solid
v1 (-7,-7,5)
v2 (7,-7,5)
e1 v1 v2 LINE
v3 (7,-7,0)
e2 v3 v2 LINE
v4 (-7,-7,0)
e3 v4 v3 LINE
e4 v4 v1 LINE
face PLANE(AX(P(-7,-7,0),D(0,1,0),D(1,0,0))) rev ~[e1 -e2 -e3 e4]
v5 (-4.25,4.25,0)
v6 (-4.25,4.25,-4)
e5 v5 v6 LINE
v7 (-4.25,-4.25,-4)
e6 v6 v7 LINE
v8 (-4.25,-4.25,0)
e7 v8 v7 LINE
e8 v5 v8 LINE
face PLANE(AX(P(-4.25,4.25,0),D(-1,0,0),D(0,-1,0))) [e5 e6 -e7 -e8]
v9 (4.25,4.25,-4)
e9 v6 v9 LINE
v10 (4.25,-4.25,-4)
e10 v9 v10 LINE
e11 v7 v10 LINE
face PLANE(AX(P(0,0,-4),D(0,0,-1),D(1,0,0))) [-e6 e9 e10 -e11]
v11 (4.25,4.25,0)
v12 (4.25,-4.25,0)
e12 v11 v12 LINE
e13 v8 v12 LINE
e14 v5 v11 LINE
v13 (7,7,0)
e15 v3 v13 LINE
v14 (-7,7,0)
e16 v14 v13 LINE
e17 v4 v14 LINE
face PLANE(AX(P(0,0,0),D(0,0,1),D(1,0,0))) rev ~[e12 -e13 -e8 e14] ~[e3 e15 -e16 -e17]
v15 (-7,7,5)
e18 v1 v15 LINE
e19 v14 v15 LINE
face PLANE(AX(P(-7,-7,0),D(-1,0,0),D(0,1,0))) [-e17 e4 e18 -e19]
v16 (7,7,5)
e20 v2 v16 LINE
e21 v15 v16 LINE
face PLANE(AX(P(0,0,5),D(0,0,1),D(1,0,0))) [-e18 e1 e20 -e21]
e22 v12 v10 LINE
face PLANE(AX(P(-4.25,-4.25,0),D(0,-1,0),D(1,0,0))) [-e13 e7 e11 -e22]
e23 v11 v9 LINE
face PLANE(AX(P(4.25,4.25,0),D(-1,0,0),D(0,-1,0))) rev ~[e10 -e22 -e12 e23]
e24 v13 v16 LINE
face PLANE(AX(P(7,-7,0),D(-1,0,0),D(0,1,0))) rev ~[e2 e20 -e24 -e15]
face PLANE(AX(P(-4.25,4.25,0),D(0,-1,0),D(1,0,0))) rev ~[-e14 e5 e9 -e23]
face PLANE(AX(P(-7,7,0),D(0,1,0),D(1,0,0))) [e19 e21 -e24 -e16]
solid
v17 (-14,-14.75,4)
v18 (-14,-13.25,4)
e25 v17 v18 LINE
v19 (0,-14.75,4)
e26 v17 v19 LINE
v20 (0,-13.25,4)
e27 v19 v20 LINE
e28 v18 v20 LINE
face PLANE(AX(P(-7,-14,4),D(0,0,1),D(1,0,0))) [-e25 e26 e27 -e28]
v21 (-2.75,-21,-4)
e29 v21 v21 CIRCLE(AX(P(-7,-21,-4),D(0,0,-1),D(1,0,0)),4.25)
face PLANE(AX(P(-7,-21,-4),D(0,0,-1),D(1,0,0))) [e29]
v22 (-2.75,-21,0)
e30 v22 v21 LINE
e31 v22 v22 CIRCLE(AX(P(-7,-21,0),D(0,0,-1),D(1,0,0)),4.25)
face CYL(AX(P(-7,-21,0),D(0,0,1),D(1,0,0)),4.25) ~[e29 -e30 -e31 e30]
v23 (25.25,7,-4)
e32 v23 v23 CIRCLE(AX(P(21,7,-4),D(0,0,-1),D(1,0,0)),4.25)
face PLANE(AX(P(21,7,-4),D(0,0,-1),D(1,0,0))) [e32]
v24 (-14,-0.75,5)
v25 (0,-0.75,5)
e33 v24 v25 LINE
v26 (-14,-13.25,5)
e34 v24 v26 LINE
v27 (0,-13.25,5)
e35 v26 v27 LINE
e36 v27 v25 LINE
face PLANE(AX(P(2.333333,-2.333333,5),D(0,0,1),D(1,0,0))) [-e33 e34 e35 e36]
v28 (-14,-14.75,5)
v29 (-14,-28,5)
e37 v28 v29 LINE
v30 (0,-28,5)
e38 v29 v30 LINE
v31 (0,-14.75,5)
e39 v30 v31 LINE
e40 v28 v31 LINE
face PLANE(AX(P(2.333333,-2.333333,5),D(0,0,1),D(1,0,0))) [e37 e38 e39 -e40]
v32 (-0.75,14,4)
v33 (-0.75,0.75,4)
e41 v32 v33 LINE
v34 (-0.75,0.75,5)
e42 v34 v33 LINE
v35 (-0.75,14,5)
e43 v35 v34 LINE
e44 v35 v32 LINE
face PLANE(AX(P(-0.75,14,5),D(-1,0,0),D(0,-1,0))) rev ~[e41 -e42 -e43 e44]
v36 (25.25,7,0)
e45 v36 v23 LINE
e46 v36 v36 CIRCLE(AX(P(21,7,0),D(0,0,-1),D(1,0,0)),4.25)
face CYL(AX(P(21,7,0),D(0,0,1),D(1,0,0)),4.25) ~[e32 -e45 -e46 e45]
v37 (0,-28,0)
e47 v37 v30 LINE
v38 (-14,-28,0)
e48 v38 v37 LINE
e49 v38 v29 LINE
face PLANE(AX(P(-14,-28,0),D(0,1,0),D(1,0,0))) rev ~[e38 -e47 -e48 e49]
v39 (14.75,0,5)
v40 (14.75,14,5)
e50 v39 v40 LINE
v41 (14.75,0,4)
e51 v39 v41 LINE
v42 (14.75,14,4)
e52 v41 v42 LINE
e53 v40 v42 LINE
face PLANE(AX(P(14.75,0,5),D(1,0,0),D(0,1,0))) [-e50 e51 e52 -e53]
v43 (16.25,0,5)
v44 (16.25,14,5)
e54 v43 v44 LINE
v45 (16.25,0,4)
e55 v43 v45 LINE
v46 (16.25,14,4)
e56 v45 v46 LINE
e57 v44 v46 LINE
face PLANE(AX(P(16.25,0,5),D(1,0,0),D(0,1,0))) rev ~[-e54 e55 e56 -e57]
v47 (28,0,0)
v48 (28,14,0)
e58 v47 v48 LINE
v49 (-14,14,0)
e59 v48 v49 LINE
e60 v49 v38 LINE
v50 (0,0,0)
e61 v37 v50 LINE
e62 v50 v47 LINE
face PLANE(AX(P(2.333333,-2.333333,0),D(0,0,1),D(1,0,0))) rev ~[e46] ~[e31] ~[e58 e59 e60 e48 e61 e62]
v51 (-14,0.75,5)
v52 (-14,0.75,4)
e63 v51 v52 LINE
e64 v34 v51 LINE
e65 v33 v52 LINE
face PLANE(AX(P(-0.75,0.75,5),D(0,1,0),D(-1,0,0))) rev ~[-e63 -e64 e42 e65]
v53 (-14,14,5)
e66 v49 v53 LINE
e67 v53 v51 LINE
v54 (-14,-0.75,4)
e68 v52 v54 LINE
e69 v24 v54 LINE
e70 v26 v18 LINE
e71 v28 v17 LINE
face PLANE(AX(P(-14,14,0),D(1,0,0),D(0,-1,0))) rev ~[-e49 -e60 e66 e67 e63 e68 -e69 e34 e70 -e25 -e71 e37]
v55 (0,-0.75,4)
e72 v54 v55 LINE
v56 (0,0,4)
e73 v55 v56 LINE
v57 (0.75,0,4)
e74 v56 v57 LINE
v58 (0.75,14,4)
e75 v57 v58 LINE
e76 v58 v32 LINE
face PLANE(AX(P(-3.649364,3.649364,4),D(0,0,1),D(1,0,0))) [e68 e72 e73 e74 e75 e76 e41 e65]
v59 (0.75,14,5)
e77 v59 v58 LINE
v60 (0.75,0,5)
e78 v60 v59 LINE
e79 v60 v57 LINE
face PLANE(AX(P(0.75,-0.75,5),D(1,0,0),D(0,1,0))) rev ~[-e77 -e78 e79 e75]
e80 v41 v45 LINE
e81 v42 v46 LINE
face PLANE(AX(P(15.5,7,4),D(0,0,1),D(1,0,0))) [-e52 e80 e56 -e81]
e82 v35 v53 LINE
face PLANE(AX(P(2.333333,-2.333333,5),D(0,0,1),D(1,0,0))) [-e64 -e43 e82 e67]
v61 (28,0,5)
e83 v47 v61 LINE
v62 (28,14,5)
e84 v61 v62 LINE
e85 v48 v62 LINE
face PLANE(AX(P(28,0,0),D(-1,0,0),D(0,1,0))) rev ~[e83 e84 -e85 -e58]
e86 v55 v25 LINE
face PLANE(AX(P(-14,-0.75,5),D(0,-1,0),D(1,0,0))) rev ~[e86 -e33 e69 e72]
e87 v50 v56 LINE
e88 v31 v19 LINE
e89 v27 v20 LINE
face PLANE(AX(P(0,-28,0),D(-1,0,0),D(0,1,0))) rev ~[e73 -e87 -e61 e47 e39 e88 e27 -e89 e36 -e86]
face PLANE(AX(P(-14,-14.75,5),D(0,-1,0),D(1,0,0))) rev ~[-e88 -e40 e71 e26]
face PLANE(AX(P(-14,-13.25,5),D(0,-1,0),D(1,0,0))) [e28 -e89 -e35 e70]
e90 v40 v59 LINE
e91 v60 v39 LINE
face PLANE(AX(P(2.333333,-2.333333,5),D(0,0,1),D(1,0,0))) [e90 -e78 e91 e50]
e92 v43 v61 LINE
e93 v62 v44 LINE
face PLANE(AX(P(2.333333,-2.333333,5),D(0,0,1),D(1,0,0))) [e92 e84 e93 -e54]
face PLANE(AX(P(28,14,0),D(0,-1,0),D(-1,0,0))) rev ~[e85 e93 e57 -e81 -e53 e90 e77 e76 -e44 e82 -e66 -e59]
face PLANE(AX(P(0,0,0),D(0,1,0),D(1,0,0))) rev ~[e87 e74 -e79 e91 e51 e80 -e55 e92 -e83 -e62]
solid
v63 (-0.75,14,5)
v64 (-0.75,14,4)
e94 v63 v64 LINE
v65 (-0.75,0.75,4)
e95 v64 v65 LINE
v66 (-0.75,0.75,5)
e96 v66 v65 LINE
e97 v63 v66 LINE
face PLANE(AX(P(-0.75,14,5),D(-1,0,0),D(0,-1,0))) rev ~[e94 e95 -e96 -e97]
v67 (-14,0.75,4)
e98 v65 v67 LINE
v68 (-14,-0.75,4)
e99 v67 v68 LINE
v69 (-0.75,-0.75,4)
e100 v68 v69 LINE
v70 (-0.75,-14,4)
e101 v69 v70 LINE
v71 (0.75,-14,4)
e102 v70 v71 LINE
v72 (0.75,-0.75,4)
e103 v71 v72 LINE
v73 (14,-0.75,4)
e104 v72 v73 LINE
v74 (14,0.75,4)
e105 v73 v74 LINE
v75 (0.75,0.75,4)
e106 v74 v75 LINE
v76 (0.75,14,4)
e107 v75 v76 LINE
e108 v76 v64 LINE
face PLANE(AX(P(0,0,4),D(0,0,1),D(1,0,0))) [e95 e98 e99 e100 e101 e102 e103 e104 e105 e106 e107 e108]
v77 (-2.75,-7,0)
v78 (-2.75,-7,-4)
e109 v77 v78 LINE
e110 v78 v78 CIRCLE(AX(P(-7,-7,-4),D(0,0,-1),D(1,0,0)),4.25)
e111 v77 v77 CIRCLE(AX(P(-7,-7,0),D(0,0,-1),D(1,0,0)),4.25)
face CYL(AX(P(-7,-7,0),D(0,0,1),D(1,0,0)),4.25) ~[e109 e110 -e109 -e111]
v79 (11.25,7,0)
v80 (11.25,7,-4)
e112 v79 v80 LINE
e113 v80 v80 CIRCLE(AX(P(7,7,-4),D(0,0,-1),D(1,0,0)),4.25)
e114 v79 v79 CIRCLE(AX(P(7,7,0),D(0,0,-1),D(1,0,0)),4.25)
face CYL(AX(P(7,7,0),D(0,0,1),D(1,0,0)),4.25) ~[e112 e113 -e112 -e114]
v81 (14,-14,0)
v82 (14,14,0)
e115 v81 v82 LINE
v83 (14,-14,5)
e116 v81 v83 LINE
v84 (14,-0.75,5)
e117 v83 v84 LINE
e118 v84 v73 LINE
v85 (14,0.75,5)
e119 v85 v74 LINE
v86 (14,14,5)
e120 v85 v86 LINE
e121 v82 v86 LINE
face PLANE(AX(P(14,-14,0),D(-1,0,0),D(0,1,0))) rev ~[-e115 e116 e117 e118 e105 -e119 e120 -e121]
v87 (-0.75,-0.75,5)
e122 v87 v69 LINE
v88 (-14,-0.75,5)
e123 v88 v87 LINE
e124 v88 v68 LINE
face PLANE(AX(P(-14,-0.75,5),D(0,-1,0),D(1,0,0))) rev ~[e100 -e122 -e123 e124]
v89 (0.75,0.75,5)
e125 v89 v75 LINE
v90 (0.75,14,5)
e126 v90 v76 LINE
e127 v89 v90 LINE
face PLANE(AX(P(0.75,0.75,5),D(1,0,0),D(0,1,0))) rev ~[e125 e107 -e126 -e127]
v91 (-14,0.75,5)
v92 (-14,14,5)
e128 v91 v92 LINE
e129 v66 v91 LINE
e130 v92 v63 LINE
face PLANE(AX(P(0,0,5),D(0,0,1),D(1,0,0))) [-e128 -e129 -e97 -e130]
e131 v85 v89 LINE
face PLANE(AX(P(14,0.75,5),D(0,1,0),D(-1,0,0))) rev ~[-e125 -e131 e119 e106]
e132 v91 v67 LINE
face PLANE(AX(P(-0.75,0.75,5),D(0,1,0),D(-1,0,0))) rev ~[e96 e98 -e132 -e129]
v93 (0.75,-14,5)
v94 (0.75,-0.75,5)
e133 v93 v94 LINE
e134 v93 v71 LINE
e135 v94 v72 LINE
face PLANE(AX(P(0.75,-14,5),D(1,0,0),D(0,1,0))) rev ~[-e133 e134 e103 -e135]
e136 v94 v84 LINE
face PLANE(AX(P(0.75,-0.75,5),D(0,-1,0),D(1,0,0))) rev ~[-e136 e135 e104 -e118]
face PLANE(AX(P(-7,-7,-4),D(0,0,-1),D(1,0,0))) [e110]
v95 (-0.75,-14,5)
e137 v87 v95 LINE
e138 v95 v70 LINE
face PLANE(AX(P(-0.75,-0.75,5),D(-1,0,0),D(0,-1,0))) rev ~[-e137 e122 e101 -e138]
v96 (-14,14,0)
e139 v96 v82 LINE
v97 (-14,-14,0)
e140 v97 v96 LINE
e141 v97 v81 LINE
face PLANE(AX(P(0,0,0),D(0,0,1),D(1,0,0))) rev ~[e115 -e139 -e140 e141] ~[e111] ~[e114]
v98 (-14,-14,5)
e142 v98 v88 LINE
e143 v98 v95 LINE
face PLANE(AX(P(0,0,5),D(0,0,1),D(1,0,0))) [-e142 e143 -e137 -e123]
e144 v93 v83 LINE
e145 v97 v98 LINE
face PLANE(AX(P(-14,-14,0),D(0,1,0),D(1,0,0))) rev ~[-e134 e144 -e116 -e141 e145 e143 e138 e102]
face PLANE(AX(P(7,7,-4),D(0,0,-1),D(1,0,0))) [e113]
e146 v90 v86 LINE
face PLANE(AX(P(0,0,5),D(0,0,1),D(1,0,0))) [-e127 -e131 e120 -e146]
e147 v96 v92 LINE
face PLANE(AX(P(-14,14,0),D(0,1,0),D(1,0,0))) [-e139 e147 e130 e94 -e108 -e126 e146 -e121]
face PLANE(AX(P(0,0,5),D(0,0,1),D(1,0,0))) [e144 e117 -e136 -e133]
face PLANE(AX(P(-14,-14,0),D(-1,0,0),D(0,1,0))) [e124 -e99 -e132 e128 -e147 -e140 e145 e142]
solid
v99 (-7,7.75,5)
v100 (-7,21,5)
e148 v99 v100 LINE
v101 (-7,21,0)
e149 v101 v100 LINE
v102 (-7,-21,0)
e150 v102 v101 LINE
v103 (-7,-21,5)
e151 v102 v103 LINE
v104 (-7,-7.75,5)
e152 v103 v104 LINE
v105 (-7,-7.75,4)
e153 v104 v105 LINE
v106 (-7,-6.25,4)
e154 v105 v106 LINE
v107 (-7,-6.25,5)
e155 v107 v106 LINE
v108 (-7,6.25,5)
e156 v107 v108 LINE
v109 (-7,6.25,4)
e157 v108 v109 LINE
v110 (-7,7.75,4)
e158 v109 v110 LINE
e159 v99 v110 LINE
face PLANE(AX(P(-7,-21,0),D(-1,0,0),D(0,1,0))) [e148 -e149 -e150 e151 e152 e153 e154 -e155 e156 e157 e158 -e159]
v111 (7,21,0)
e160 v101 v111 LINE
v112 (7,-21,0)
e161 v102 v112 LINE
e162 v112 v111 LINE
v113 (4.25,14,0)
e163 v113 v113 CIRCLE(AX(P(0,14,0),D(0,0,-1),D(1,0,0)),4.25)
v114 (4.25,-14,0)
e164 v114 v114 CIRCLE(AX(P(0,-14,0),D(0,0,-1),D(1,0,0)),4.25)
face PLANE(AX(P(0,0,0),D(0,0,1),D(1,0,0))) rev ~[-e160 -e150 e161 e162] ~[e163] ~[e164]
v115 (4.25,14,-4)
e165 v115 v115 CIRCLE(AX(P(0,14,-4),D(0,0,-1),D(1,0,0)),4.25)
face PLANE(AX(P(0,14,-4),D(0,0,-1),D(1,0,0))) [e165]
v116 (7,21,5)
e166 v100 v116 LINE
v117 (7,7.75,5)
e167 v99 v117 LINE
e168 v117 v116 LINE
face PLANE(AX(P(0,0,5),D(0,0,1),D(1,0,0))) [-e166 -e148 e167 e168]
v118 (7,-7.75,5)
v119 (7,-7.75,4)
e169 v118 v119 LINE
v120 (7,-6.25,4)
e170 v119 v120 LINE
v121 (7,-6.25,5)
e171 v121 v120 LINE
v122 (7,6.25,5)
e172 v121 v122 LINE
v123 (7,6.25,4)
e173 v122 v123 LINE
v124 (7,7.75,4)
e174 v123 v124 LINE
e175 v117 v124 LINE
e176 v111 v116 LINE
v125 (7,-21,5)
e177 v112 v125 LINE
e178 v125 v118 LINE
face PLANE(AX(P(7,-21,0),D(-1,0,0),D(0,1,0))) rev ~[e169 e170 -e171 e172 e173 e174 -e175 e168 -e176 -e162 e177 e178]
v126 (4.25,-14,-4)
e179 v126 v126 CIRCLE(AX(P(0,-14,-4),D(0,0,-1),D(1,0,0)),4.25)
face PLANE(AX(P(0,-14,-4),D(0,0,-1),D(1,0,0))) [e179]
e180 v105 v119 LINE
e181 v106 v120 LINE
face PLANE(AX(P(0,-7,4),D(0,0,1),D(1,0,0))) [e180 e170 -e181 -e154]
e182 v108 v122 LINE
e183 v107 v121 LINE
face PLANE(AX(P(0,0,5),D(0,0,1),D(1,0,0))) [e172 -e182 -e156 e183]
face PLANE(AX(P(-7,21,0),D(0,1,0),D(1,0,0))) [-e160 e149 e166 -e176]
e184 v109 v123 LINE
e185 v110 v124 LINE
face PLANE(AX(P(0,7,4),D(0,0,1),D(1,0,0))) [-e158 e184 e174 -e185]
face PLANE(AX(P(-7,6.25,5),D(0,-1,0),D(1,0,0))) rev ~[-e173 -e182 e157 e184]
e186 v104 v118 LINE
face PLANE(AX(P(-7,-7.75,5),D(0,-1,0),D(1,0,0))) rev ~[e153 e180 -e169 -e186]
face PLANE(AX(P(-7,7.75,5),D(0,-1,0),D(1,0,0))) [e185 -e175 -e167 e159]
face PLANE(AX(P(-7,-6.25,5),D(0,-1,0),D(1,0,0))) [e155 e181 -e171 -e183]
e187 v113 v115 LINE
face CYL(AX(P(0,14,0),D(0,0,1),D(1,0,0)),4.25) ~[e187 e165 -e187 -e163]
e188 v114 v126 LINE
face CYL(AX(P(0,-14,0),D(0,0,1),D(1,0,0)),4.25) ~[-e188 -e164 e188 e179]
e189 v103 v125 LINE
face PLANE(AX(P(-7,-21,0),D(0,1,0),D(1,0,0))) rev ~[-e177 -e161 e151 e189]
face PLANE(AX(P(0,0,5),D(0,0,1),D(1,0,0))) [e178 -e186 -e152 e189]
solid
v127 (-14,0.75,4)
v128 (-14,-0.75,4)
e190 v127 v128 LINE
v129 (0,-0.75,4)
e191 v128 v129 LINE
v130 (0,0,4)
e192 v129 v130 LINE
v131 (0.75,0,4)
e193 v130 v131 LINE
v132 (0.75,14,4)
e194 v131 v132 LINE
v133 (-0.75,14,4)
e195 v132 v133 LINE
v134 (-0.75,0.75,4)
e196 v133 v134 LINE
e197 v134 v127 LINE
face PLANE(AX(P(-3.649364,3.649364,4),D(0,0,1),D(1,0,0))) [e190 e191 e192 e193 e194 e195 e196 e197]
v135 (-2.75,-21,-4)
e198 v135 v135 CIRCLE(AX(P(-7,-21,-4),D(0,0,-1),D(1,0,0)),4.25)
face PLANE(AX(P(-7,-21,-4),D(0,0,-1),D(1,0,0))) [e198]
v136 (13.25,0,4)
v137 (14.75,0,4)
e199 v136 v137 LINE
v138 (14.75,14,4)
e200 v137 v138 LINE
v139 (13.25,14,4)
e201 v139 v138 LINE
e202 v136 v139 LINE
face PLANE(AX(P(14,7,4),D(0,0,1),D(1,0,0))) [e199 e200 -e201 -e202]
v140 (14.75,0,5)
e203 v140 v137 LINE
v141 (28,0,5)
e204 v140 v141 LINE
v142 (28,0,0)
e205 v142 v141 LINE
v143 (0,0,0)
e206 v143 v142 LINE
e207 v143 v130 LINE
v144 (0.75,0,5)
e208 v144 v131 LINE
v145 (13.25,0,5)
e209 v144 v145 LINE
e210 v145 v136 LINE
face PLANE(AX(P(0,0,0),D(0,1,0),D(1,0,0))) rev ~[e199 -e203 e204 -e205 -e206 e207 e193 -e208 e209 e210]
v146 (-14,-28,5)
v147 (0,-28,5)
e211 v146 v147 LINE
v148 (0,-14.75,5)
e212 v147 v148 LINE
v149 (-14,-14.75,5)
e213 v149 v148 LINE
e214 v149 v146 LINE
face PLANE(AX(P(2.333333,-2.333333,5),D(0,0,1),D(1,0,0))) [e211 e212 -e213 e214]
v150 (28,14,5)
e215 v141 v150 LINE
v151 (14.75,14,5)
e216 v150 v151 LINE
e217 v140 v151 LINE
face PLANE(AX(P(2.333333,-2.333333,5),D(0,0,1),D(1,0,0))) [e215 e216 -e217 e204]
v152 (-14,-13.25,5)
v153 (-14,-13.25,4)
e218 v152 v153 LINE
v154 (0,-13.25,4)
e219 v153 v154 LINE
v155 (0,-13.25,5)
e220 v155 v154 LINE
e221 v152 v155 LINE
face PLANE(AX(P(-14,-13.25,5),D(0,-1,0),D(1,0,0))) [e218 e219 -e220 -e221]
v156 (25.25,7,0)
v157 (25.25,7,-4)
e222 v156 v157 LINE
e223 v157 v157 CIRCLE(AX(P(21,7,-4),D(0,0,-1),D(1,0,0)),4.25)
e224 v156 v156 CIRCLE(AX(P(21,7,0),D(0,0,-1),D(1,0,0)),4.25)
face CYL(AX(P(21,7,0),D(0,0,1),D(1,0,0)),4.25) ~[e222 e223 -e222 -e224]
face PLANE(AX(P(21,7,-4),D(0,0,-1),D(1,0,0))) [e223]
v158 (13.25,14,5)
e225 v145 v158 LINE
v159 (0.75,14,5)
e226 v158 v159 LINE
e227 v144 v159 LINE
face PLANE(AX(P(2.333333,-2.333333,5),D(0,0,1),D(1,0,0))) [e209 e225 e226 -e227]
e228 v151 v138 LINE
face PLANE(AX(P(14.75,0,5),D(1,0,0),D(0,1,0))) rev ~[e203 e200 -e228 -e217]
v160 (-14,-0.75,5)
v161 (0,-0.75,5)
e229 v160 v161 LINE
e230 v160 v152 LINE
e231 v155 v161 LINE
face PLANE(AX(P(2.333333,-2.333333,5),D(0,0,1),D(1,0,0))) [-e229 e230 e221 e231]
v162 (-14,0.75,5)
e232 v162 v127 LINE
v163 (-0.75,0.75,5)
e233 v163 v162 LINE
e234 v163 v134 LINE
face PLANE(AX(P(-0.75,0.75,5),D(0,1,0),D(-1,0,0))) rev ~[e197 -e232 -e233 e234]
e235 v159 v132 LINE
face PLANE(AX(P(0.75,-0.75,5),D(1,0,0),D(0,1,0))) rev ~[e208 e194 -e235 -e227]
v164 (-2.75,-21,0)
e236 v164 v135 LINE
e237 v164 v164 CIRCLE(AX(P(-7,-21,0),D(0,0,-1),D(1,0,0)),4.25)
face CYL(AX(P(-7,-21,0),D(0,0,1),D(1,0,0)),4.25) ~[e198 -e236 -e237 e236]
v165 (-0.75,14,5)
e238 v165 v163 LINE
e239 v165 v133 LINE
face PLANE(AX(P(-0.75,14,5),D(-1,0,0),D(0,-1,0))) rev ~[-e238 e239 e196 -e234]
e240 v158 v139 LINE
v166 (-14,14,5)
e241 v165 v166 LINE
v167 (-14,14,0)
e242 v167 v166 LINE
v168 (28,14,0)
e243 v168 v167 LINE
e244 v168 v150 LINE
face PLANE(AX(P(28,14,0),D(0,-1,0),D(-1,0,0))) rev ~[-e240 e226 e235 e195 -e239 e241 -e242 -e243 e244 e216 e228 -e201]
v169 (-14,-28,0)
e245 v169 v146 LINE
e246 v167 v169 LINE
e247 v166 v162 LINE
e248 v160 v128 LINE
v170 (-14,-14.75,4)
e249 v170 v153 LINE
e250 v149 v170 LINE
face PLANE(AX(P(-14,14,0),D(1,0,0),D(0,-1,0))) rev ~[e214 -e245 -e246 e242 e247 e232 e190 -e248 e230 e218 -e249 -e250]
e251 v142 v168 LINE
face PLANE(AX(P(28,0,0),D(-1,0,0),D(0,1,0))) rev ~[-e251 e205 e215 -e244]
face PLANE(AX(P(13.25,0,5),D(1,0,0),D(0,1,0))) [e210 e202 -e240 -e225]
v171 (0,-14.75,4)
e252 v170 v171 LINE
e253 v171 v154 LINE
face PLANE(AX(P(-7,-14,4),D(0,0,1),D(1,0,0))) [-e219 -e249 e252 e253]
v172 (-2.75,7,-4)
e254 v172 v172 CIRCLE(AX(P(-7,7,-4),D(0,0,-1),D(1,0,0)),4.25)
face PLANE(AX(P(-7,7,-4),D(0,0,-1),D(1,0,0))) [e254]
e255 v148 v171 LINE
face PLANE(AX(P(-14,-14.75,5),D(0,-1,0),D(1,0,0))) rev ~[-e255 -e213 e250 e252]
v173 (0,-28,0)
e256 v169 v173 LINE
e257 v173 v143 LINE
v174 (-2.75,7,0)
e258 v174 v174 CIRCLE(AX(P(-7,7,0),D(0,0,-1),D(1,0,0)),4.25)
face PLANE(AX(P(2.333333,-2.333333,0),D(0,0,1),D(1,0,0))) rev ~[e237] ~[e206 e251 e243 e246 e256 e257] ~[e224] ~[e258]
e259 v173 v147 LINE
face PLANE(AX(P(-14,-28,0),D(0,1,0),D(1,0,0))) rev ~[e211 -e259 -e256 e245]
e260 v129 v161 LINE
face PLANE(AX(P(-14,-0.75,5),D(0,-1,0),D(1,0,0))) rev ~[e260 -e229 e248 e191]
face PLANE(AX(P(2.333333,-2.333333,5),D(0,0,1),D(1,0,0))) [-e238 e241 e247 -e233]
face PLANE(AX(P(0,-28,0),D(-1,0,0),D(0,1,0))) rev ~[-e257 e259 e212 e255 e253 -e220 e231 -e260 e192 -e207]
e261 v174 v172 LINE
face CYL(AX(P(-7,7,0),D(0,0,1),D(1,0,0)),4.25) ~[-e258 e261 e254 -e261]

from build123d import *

# Parameters (mm, degrees)
SKETCH_W        = 14
SKETCH_H        = 14
PAD_DEPTH       = 5
SKETCH002_W     = 8.5
SKETCH002_H     = 8.5
PAD001_DEPTH    = 4
SKETCH003_W     = 28
SKETCH003_H     = 28
PAD002_DEPTH    = 5
SKETCH004_R     = 4.25
PAD003_DEPTH    = 4
POCKET_DEPTH    = 1
SKETCH006_W     = 14
SKETCH006_H     = 42
PAD004_DEPTH    = 5
SKETCH007_R     = 4.25
PAD005_DEPTH    = 4
SKETCH008_W     = 14
SKETCH008_H     = 1.5
POCKET001_DEPTH = 1
PAD006_DEPTH    = 5
SKETCH010_R     = 4.25
PAD007_DEPTH    = 4
SKETCH013_W     = 1.5
SKETCH013_H     = 14
SKETCH013_W_2   = 14
SKETCH013_H_2   = 1.5
POCKET002_DEPTH = 1
PAD008_DEPTH    = 5
SKETCH012_R     = 4.25
PAD009_DEPTH    = 4
SKETCH014_W     = 1.5
SKETCH014_H     = 14
SKETCH014_W_2   = 14
SKETCH014_H_2   = 1.5
POCKET003_DEPTH = 1


with BuildPart() as body:
    # Sketch → Pad (new body)
    with BuildSketch(Plane.XY):
        Rectangle(SKETCH_W, SKETCH_H)
    extrude(amount=PAD_DEPTH)

    # Sketch002 (on Face5 of Pad) → Pad001 (join)
    with BuildSketch(Plane(origin=(0, 0, 0), x_dir=(1, 0, 0), z_dir=(0, 0, -1))):
        Rectangle(SKETCH002_W, SKETCH002_H)
    extrude(amount=PAD001_DEPTH)


with BuildPart() as body001:
    # Sketch003 → Pad002 (new body)
    with BuildSketch(Plane.XY):
        Rectangle(SKETCH003_W, SKETCH003_H)
    extrude(amount=PAD002_DEPTH)

    # Sketch004 (on Face5 of Pad002) → Pad003 (join)
    with BuildSketch(Plane(origin=(0, 0, 0), x_dir=(1, 0, 0), z_dir=(0, 0, -1))):
        with Locations((-7, 7)):
            Circle(SKETCH004_R)
        with Locations((7, -7)):
            Circle(SKETCH004_R)
    extrude(amount=PAD003_DEPTH)

    # Sketch005 (on Face5 of Pad003) → Pocket (cut)
    with BuildSketch(Plane.XY.offset(5)):
        Polygon((-0.75, 14), (-0.75, 0.75), (-14, 0.75), (-14, -0.75), (-0.75, -0.75), (-0.75, -14), (0.75, -14), (0.75, -0.75), (14, -0.75), (14, 0.75), (0.75, 0.75), (0.75, 14), align=None)
    extrude(amount=-POCKET_DEPTH, mode=Mode.SUBTRACT)


with BuildPart() as body002:
    # Sketch006 → Pad004 (new body)
    with BuildSketch(Plane.XY):
        Rectangle(SKETCH006_W, SKETCH006_H)
    extrude(amount=PAD004_DEPTH)

    # Sketch007 (on Face5 of Pad004) → Pad005 (join)
    with BuildSketch(Plane(origin=(0, 0, 0), x_dir=(1, 0, 0), z_dir=(0, 0, -1))):
        with Locations((0, 14)):
            Circle(SKETCH007_R)
        with Locations((0, -14)):
            Circle(SKETCH007_R)
    extrude(amount=PAD005_DEPTH)

    # Sketch008 (on Face5 of Pad005) → Pocket001 (cut)
    with BuildSketch(Plane.XY.offset(5)):
        with Locations((0, 7)):
            Rectangle(SKETCH008_W, SKETCH008_H)
        with Locations((0, -7)):
            Rectangle(SKETCH008_W, SKETCH008_H)
    extrude(amount=-POCKET001_DEPTH, mode=Mode.SUBTRACT)


with BuildPart() as body003:
    # Sketch009 → Pad006 (new body)
    with BuildSketch(Plane.XY):
        Polygon((-14, 14), (-14, -28), (0, -28), (0, 0), (28, 0), (28, 14), align=None)
    extrude(amount=PAD006_DEPTH)

    # Sketch010 (on Face7 of Pad006) → Pad007 (join)
    with BuildSketch(Plane(origin=(0, 0, 0), x_dir=(1, 0, 0), z_dir=(0, 0, -1))):
        with Locations((21, -7)):
            Circle(SKETCH010_R)
        with Locations((-7, 21)):
            Circle(SKETCH010_R)
        with Locations((-7, -7)):
            Circle(SKETCH010_R)
    extrude(amount=PAD007_DEPTH)

    # Sketch013 (on Face5 of Pad007) → Pocket002 (cut)
    with BuildSketch(Plane.XY.offset(5)):
        with Locations((14, 7)):
            Rectangle(SKETCH013_W, SKETCH013_H)
        with Locations((-7, -14)):
            Rectangle(SKETCH013_W_2, SKETCH013_H_2)
        Polygon((0.75, 14), (-0.75, 14), (-0.75, 0.75), (-14, 0.75), (-14, -0.75), (0.75, -0.75), align=None)
    extrude(amount=-POCKET002_DEPTH, mode=Mode.SUBTRACT)


with BuildPart() as body004:
    # Sketch011 → Pad008 (new body)
    with BuildSketch(Plane.XY):
        Polygon((-14, 14), (-14, -28), (0, -28), (0, 0), (28, 0), (28, 14), align=None)
    extrude(amount=PAD008_DEPTH)

    # Sketch012 (on Face7 of Pad008) → Pad009 (join)
    with BuildSketch(Plane(origin=(0, 0, 0), x_dir=(1, 0, 0), z_dir=(0, 0, -1))):
        with Locations((21, -7)):
            Circle(SKETCH012_R)
        with Locations((-7, 21)):
            Circle(SKETCH012_R)
    extrude(amount=PAD009_DEPTH)

    # Sketch014 (on Face5 of Pad009) → Pocket003 (cut)
    with BuildSketch(Plane.XY.offset(5)):
        Polygon((0.75, 14), (-0.75, 14), (-0.75, 0.75), (-14, 0.75), (-14, -0.75), (0.75, -0.75), align=None)
        with Locations((15.5, 7)):
            Rectangle(SKETCH014_W, SKETCH014_H)
        with Locations((-7, -14)):
            Rectangle(SKETCH014_W_2, SKETCH014_H_2)
    extrude(amount=-POCKET003_DEPTH, mode=Mode.SUBTRACT)


solid = Compound([body.part, body001.part, body002.part, body003.part, body004.part])
